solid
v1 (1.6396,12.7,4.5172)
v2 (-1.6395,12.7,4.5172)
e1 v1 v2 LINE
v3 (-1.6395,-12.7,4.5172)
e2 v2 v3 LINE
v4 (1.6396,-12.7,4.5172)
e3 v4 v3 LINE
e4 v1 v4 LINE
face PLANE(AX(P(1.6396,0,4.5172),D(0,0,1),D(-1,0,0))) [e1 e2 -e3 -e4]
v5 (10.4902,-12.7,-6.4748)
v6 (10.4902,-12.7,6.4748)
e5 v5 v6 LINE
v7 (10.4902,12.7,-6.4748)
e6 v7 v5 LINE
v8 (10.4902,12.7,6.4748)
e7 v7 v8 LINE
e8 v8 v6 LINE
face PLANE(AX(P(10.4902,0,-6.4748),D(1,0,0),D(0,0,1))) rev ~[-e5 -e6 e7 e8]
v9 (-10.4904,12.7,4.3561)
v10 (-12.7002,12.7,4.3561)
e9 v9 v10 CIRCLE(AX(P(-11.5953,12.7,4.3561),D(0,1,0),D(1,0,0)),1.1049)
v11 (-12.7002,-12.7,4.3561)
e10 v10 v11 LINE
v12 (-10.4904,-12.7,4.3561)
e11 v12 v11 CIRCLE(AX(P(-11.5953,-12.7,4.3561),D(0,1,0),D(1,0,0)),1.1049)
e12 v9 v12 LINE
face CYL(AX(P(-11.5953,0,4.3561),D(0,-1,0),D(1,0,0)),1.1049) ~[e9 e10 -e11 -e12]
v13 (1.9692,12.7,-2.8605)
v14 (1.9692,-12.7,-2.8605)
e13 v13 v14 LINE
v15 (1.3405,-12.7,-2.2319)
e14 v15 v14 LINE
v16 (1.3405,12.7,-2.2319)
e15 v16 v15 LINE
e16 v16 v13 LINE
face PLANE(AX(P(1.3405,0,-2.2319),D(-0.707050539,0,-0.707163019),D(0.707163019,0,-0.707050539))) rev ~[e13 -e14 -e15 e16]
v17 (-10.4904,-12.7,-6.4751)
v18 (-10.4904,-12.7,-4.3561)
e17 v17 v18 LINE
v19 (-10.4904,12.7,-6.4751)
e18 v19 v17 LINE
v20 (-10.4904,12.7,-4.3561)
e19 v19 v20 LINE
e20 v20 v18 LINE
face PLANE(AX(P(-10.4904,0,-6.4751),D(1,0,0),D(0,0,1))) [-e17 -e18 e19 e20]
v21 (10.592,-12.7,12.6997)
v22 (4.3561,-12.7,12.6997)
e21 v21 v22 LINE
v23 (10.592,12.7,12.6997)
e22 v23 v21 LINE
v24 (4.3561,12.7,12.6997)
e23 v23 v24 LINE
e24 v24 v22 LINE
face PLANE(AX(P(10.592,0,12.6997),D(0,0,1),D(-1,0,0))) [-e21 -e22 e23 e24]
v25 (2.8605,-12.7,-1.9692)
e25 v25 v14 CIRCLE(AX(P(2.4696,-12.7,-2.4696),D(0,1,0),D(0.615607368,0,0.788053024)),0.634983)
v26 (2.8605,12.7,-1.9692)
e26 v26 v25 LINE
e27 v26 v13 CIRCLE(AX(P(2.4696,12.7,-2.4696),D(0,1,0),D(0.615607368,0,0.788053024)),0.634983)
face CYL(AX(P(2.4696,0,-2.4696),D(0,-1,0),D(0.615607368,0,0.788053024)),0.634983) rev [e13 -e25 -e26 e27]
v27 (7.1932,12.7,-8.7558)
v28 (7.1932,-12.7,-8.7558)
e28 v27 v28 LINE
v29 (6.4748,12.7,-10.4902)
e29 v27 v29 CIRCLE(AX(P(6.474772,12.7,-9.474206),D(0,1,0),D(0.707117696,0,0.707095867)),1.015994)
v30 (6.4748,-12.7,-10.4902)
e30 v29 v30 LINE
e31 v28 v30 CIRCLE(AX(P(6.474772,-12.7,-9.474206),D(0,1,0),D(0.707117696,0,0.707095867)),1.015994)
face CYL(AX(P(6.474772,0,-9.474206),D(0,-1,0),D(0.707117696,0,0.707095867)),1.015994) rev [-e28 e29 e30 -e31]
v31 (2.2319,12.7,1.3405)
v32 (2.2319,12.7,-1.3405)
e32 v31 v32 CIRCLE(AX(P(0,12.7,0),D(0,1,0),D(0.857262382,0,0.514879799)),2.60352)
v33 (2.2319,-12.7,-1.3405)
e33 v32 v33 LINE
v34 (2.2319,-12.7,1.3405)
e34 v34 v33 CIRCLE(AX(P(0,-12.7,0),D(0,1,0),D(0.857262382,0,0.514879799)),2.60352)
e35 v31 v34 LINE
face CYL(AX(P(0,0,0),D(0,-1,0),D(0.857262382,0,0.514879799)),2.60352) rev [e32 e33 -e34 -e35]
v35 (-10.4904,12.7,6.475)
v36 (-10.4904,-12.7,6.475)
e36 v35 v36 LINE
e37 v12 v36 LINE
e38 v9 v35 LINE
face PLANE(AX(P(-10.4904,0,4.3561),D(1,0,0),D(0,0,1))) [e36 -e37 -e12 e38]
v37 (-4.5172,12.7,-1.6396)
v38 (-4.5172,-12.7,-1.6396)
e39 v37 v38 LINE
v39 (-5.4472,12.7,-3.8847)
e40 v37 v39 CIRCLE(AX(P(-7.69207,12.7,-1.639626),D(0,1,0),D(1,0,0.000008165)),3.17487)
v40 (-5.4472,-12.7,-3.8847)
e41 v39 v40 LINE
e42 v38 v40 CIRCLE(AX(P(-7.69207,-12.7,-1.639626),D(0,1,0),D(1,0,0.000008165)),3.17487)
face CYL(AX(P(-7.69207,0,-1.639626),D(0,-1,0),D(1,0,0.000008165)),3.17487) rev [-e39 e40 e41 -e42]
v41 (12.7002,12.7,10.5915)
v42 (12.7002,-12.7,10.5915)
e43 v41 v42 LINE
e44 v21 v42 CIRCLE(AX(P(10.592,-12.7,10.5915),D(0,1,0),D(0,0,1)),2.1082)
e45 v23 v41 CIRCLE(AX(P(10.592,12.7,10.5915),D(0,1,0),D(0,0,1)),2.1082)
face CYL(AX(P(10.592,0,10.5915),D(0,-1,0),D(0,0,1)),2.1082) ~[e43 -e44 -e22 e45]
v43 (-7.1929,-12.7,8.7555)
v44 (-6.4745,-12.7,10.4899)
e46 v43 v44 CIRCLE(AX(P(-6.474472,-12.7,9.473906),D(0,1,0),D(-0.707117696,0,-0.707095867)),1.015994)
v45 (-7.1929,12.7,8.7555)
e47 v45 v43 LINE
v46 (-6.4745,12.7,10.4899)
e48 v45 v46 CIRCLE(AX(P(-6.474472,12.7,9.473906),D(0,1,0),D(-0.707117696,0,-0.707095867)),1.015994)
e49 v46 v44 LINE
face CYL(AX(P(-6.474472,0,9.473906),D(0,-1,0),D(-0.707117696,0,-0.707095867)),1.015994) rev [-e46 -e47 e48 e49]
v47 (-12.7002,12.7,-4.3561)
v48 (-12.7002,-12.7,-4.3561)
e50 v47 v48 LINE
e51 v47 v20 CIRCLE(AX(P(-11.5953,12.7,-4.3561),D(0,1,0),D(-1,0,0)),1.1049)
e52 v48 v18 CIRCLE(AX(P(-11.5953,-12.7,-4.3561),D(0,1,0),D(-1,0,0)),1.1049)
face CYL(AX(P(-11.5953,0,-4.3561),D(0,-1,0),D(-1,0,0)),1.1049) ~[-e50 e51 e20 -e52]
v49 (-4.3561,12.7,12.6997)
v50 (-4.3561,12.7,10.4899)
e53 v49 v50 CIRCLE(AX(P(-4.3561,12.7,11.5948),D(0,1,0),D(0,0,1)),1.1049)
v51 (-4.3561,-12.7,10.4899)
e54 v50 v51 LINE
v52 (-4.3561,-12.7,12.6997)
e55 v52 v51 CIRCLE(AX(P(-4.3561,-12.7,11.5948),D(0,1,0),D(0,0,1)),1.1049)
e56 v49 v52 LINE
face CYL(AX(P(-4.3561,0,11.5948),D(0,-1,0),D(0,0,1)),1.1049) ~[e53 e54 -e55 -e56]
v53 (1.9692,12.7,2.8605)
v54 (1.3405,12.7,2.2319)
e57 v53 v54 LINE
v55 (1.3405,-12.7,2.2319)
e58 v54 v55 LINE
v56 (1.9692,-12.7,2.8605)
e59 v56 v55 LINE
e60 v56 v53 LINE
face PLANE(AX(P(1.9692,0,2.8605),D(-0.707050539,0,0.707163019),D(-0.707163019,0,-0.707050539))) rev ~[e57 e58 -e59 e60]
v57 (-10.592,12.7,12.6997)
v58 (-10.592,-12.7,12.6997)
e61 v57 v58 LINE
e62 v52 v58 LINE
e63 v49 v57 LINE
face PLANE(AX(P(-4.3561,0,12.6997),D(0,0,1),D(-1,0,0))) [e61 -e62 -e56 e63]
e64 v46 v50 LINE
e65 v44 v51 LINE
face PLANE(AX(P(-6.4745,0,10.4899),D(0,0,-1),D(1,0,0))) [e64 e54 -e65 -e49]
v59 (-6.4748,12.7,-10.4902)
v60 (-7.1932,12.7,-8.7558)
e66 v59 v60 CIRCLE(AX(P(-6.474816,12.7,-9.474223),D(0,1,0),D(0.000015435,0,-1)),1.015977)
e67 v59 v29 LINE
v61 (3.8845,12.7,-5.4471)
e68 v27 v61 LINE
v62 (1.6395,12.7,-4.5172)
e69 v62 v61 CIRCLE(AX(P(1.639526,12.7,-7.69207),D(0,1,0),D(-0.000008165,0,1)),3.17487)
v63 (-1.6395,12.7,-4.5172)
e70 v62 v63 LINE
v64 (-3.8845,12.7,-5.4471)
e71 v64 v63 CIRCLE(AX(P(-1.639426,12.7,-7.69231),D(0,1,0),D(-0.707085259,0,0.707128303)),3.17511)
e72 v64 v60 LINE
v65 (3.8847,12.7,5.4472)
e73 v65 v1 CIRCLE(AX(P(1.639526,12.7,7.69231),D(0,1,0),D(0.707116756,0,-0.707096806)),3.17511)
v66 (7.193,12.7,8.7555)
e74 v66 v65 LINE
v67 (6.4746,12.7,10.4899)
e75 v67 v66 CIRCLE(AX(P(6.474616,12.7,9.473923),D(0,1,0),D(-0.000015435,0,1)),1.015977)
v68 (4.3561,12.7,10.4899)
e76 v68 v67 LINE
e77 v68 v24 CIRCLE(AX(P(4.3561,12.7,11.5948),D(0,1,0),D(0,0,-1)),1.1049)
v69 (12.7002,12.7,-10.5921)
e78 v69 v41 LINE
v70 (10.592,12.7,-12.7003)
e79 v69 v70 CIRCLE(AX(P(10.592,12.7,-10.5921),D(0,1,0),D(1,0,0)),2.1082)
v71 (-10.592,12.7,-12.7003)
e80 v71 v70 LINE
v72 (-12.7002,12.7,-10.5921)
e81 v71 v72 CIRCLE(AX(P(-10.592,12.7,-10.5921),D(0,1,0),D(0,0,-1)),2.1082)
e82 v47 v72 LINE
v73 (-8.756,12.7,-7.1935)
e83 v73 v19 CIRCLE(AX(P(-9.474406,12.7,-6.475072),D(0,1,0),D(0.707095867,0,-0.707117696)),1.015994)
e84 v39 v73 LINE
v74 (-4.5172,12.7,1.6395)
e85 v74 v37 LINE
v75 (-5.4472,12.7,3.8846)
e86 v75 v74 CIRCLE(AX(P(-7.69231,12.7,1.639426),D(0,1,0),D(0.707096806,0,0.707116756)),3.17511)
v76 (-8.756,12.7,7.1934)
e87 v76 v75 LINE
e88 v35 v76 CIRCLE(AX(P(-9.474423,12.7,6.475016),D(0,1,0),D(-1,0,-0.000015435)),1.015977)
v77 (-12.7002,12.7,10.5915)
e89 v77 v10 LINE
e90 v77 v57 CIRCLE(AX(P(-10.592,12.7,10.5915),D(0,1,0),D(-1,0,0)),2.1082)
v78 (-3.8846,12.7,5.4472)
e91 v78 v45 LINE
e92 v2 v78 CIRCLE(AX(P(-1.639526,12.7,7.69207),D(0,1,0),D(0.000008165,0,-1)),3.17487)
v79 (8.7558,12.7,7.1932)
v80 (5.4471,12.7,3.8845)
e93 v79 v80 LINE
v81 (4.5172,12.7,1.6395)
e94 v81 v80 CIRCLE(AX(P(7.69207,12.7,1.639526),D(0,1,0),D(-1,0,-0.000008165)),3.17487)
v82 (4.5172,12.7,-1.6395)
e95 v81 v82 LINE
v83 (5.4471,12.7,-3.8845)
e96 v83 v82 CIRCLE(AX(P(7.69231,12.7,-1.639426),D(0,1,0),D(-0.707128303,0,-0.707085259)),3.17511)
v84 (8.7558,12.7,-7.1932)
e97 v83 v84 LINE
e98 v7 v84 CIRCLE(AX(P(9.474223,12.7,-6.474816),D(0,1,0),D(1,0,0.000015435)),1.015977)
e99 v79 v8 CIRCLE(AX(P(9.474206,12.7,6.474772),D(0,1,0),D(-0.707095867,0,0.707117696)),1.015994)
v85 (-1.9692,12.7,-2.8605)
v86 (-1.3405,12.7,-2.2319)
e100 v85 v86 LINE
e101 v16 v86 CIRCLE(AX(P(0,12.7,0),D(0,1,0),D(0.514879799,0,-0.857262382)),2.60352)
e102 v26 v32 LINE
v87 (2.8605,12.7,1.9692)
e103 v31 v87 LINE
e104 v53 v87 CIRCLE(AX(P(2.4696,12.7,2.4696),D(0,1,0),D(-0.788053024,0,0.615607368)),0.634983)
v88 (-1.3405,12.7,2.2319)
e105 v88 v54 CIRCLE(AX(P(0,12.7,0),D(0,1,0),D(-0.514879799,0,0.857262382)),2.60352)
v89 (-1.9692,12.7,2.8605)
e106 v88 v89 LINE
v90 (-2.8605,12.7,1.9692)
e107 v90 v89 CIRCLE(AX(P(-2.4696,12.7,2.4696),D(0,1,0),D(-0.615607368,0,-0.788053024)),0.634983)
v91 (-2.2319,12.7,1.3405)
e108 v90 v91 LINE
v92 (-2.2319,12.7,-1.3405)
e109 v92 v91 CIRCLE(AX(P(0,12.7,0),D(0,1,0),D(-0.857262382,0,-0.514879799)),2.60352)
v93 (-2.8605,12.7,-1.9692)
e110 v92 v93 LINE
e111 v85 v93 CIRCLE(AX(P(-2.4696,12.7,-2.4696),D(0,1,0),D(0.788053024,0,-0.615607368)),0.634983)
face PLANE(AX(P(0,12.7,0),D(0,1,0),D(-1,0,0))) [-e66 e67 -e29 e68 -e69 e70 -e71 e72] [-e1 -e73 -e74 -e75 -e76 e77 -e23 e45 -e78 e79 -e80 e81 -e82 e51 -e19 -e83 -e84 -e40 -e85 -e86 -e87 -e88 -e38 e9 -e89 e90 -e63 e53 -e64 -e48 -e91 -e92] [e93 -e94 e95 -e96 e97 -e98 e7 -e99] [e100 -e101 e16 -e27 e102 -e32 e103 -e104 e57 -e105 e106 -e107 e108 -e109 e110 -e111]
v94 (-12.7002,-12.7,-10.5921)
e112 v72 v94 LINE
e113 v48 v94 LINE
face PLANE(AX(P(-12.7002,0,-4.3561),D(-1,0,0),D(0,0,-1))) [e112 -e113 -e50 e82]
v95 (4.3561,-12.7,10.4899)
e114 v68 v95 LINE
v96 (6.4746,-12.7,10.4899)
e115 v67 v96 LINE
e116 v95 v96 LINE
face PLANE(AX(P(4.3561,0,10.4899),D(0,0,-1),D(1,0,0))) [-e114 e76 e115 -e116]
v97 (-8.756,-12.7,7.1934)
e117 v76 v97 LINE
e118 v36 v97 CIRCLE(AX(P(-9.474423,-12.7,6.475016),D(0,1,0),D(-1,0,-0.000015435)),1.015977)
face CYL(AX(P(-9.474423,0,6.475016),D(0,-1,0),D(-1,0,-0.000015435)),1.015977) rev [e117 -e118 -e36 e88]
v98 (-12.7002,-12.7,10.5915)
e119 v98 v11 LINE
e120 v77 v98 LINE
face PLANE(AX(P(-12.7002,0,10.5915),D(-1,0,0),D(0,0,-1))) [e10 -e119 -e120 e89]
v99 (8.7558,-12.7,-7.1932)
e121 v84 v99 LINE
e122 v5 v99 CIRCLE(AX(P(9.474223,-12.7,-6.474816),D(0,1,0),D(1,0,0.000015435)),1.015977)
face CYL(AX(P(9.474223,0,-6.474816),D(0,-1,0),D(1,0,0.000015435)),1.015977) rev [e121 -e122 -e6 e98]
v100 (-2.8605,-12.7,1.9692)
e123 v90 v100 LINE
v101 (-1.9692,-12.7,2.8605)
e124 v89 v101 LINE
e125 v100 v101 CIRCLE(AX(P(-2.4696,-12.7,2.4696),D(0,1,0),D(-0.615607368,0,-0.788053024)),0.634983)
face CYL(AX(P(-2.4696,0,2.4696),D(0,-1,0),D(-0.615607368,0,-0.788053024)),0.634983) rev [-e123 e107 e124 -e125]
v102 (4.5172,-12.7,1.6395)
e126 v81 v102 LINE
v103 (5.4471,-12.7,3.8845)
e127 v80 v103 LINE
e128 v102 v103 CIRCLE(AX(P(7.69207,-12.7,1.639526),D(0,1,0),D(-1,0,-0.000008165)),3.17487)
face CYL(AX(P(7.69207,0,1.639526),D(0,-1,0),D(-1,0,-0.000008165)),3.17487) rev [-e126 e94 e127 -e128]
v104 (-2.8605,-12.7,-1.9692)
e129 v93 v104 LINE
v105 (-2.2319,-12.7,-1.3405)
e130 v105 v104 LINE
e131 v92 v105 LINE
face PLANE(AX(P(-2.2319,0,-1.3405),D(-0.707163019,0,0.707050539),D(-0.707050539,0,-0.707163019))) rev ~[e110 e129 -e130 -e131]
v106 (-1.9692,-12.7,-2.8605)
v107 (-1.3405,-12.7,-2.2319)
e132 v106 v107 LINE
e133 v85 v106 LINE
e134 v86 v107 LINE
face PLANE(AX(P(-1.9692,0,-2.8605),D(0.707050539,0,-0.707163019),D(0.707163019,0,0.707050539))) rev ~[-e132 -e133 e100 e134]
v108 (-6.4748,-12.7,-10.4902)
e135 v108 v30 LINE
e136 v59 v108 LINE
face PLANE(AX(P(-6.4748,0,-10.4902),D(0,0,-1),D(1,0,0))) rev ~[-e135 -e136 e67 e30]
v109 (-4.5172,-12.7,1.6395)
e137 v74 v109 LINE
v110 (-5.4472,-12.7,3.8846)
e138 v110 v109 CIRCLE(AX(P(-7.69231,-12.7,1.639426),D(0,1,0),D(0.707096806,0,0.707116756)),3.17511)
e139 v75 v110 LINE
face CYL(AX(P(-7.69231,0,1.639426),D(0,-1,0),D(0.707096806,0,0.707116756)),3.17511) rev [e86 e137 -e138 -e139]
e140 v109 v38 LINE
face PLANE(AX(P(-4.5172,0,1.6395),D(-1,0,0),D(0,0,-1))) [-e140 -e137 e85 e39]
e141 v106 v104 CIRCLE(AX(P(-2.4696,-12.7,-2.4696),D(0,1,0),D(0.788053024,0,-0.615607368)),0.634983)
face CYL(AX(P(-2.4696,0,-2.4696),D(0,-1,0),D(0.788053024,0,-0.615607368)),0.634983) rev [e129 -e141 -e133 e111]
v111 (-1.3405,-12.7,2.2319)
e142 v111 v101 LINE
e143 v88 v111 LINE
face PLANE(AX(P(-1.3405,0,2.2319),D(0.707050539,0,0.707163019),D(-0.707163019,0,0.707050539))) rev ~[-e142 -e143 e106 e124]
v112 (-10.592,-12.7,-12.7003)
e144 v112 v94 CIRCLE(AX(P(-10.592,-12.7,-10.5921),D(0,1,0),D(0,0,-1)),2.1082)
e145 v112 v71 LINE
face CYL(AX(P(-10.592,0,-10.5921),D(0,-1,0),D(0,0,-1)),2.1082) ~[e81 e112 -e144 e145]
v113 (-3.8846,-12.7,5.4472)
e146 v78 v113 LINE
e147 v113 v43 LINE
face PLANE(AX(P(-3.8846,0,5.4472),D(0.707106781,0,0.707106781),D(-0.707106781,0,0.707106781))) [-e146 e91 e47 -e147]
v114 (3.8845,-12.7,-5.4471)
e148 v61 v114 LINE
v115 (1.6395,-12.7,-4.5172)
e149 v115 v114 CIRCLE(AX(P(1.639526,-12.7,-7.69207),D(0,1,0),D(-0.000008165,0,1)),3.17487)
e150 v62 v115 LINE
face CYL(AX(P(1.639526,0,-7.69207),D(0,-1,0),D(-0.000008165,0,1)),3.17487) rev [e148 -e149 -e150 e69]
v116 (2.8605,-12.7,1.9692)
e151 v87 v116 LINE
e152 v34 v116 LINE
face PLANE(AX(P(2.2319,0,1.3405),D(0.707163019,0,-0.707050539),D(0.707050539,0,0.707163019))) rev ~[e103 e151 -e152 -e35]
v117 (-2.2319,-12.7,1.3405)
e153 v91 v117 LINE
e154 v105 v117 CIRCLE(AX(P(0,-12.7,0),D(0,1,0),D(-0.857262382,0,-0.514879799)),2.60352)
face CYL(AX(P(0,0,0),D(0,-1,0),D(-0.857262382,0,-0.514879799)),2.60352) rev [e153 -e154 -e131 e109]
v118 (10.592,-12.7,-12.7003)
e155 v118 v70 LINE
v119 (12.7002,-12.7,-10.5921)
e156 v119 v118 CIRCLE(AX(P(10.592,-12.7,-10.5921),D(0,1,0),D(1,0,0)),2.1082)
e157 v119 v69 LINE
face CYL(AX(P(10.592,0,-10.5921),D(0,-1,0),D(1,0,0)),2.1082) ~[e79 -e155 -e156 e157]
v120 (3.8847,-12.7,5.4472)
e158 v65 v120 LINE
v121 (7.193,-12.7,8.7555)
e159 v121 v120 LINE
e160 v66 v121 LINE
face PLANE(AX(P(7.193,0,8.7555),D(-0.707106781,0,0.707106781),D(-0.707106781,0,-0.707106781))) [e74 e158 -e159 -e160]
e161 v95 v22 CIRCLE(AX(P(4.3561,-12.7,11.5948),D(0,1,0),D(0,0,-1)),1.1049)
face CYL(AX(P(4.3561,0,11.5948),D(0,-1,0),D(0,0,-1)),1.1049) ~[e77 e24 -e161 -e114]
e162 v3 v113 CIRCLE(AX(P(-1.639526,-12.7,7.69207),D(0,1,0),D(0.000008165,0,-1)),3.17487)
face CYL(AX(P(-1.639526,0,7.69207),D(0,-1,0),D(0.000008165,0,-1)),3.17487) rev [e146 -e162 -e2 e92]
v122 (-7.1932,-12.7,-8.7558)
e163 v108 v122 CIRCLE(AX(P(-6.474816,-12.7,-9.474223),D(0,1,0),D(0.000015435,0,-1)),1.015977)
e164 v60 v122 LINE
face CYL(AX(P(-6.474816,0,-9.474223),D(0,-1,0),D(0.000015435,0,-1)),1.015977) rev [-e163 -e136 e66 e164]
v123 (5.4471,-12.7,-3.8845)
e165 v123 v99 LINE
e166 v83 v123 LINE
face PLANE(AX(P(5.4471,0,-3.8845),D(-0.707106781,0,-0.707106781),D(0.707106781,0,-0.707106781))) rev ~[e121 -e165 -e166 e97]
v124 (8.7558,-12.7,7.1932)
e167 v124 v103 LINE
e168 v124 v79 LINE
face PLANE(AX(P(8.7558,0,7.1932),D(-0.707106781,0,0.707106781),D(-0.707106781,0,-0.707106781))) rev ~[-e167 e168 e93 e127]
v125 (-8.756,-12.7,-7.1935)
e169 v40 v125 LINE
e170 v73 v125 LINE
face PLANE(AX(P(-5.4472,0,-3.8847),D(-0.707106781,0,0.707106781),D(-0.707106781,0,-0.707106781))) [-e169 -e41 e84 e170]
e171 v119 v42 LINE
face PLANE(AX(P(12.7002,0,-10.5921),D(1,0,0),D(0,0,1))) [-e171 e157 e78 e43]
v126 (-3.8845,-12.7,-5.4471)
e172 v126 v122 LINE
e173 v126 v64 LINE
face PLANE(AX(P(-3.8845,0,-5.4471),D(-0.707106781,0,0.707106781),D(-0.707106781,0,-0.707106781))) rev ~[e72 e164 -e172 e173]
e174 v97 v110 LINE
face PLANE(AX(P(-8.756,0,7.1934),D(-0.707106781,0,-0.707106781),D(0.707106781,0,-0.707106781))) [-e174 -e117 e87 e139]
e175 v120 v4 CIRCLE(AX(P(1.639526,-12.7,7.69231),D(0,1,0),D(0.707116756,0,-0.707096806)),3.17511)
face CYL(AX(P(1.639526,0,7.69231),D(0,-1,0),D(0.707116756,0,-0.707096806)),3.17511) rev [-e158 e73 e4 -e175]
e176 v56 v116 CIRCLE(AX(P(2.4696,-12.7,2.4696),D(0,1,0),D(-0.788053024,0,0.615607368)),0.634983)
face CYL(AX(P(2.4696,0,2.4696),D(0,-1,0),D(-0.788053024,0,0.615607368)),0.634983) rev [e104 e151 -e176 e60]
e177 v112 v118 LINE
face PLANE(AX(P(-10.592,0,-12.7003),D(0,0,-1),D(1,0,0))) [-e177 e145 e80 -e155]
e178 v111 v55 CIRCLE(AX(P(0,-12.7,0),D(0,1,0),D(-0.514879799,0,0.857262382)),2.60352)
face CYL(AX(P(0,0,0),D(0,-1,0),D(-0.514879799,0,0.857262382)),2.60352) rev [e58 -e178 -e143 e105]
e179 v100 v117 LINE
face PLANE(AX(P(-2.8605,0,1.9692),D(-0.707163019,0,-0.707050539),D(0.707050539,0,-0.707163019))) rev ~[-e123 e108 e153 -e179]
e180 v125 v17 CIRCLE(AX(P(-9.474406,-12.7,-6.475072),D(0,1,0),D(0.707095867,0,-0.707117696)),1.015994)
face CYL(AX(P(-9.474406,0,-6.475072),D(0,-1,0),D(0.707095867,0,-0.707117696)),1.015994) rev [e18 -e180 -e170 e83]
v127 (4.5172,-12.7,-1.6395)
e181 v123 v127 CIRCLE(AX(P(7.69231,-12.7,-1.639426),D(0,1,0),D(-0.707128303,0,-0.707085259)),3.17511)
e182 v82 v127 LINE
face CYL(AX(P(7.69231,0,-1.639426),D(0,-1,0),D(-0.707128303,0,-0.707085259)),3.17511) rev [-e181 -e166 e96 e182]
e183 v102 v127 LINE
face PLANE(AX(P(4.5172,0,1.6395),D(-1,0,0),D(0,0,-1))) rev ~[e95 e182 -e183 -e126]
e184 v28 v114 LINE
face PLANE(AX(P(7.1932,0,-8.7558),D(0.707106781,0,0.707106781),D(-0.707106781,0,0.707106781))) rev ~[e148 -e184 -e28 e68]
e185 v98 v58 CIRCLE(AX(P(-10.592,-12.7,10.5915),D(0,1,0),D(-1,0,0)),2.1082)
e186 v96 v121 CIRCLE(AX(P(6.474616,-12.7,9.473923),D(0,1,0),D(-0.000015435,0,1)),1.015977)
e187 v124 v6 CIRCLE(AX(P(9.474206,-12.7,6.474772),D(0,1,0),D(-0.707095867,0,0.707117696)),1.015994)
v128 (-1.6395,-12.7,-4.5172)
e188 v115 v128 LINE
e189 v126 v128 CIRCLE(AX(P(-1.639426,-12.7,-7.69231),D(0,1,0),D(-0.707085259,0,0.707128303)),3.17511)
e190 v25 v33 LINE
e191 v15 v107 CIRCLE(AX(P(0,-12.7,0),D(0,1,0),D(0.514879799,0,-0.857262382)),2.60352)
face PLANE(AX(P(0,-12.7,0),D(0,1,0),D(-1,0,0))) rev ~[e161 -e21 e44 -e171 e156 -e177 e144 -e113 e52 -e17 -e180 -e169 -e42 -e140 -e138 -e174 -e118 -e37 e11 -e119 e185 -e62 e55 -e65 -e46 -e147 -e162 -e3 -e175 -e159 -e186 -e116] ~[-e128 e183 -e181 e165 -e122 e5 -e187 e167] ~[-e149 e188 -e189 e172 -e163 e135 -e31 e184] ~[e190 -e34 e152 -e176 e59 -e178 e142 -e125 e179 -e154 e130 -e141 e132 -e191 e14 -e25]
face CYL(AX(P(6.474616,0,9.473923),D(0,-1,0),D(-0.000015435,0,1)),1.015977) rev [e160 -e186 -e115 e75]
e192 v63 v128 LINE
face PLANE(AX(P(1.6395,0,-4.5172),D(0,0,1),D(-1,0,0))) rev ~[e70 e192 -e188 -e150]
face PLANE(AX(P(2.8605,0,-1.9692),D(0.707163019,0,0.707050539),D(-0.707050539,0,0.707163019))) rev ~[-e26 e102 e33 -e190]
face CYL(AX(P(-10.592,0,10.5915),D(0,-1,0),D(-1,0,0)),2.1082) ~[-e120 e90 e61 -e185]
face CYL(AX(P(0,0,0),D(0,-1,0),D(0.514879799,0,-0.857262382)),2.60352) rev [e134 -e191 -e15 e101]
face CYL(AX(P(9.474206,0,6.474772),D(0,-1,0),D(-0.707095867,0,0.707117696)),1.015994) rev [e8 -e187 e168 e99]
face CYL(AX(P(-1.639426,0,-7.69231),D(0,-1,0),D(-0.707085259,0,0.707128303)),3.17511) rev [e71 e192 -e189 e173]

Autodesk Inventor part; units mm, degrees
ref_plane "YZ Plane" through (0, 0, 0) normal (1, 0, 0) x (0, 1, 0)
ref_plane "XZ Plane" through (0, 0, 0) normal (0, 1, 0) x (-1, 0, 0)
ref_plane "XY Plane" through (0, 0, 0) normal (0, 0, 1) x (1, 0, 0)
sketch "Sketch1" plane through (0, 0, 0) normal (0, 1, 0) x (-1, 0, 0)
  arc A0 (-1.9692, 2.8605) -> (-2.8605, 1.9692) centre (-2.4696, 2.4696) ccw
  line L0 (-2.2319, 1.3405) -> (-2.8605, 1.9692)
  arc A1 (-2.2319, 1.3405) -> (-2.2319, -1.3405) centre (0, 0) ccw
  line L1 (-2.8605, -1.9692) -> (-2.2319, -1.3405)
  arc A2 (-2.8605, -1.9692) -> (-1.9692, -2.8605) centre (-2.4696, -2.4696) ccw
  line L2 (-1.3405, -2.2319) -> (-1.9692, -2.8605)
  arc A3 (-1.3405, -2.2319) -> (1.3405, -2.2319) centre (0, 0) ccw
  line L3 (1.9692, -2.8605) -> (1.3405, -2.2319)
  arc A4 (1.9692, -2.8605) -> (2.8605, -1.9692) centre (2.4696, -2.4696) ccw
  line L4 (2.2319, -1.3405) -> (2.8605, -1.9692)
  arc A5 (2.2319, -1.3405) -> (2.2319, 1.3405) centre (0, 0) ccw
  line L5 (2.8605, 1.9692) -> (2.2319, 1.3405)
  arc A6 (2.8605, 1.9692) -> (1.9692, 2.8605) centre (2.4696, 2.4696) ccw
  line L6 (1.3405, 2.2319) -> (1.9692, 2.8605)
  arc A7 (1.3405, 2.2319) -> (-1.3405, 2.2319) centre (0, 0) ccw
  line L7 (-1.9692, 2.8605) -> (-1.3405, 2.2319)
  arc A8 (-8.7558, 7.1932) -> (-10.4902, 6.4748) centre (-9.4742, 6.4748) ccw
  line L8 (-10.4902, -6.4748) -> (-10.4902, 6.4748)
  arc A9 (-10.4902, -6.4748) -> (-8.7558, -7.1932) centre (-9.4742, -6.4748) ccw
  line L9 (-5.4471, -3.8845) -> (-8.7558, -7.1932)
  arc A10 (-5.4471, -3.8845) -> (-4.5172, -1.6395) centre (-7.6922, -1.6395) ccw
  line L10 (-4.5172, 1.6395) -> (-4.5172, -1.6395)
  arc A11 (-4.5172, 1.6395) -> (-5.4471, 3.8845) centre (-7.6922, 1.6395) ccw
  line L11 (-8.7558, 7.1932) -> (-5.4471, 3.8845)
  arc A12 (3.8845, -5.4471) -> (1.6395, -4.5172) centre (1.6395, -7.6922) ccw
  line L12 (-1.6395, -4.5172) -> (1.6395, -4.5172)
  arc A13 (-1.6395, -4.5172) -> (-3.8845, -5.4471) centre (-1.6395, -7.6922) ccw
  line L13 (-7.1932, -8.7558) -> (-3.8845, -5.4471)
  arc A14 (-7.1932, -8.7558) -> (-6.4748, -10.4902) centre (-6.4748, -9.4742) ccw
  line L14 (6.4748, -10.4902) -> (-6.4748, -10.4902)
  arc A15 (6.4748, -10.4902) -> (7.1932, -8.7558) centre (6.4748, -9.4742) ccw
  line L15 (3.8845, -5.4471) -> (7.1932, -8.7558)
  arc A16 (-12.7002, -10.5921) -> (-10.592, -12.7003) centre (-10.592, -10.5921) ccw
  line L16 (-12.7002, -10.5921) -> (-12.7002, 10.5915)
  arc A17 (-10.592, 12.6997) -> (-12.7002, 10.5915) centre (-10.592, 10.5915) ccw
  line L17 (-10.592, 12.6997) -> (-4.3561, 12.6997)
  arc A18 (-4.3561, 10.4899) -> (-4.3561, 12.6997) centre (-4.3561, 11.5948) ccw
  line L18 (-4.3561, 10.4899) -> (-6.4746, 10.4899)
  arc A19 (-6.4746, 10.4899) -> (-7.193, 8.7555) centre (-6.4746, 9.4739) ccw
  line L19 (-7.193, 8.7555) -> (-3.8847, 5.4472)
  arc A20 (-3.8847, 5.4472) -> (-1.6396, 4.5172) centre (-1.6396, 7.6922) ccw
  line L20 (-1.6396, 4.5172) -> (1.6395, 4.5172)
  arc A21 (1.6395, 4.5172) -> (3.8846, 5.4472) centre (1.6395, 7.6922) ccw
  line L21 (3.8846, 5.4472) -> (7.1929, 8.7555)
  arc A22 (7.1929, 8.7555) -> (6.4745, 10.4899) centre (6.4745, 9.4739) ccw
  line L22 (6.4745, 10.4899) -> (4.3561, 10.4899)
  arc A23 (4.3561, 12.6997) -> (4.3561, 10.4899) centre (4.3561, 11.5948) ccw
  line L23 (4.3561, 12.6997) -> (10.592, 12.6997)
  arc A24 (12.7002, 10.5915) -> (10.592, 12.6997) centre (10.592, 10.5915) ccw
  line L24 (12.7002, 10.5915) -> (12.7002, 4.3561)
  arc A25 (10.4904, 4.3561) -> (12.7002, 4.3561) centre (11.5953, 4.3561) ccw
  line L25 (10.4904, 4.3561) -> (10.4904, 6.475)
  arc A26 (10.4904, 6.475) -> (8.756, 7.1934) centre (9.4744, 6.475) ccw
  line L26 (8.756, 7.1934) -> (5.4472, 3.8846)
  arc A27 (5.4472, 3.8846) -> (4.5172, 1.6395) centre (7.6922, 1.6395) ccw
  line L27 (4.5172, 1.6395) -> (4.5172, -1.6396)
  arc A28 (4.5172, -1.6396) -> (5.4472, -3.8847) centre (7.6922, -1.6396) ccw
  line L28 (5.4472, -3.8847) -> (8.756, -7.1935)
  arc A29 (8.756, -7.1935) -> (10.4904, -6.4751) centre (9.4744, -6.4751) ccw
  line L29 (10.4904, -6.4751) -> (10.4904, -4.3561)
  arc A30 (12.7002, -4.3561) -> (10.4904, -4.3561) centre (11.5953, -4.3561) ccw
  line L30 (12.7002, -4.3561) -> (12.7002, -10.5921)
  arc A31 (10.592, -12.7003) -> (12.7002, -10.5921) centre (10.592, -10.5921) ccw
  line L31 (10.592, -12.7003) -> (-10.592, -12.7003)
  point P0 (0, 0)
  dimension "d23" = 8.183
  dimension "d69" = 1.016
  dimension "d70" = 3.175
  dimension "d86" = 17.2174
  dimension "d87" = 23.1904
  dimension "d88" = 25.4004
  dimension "d89" = 17.2169
  dimension "d90" = 23.1899
  dimension "d92" = 8.1825
  dimension "d93" = 2.2098
  dimension "d96" = 2.2097
extrude "Extrusion1" add sketch "Sketch1" along normal mid plane 25.4
properties part number "1002-S" material "6105-T5"
